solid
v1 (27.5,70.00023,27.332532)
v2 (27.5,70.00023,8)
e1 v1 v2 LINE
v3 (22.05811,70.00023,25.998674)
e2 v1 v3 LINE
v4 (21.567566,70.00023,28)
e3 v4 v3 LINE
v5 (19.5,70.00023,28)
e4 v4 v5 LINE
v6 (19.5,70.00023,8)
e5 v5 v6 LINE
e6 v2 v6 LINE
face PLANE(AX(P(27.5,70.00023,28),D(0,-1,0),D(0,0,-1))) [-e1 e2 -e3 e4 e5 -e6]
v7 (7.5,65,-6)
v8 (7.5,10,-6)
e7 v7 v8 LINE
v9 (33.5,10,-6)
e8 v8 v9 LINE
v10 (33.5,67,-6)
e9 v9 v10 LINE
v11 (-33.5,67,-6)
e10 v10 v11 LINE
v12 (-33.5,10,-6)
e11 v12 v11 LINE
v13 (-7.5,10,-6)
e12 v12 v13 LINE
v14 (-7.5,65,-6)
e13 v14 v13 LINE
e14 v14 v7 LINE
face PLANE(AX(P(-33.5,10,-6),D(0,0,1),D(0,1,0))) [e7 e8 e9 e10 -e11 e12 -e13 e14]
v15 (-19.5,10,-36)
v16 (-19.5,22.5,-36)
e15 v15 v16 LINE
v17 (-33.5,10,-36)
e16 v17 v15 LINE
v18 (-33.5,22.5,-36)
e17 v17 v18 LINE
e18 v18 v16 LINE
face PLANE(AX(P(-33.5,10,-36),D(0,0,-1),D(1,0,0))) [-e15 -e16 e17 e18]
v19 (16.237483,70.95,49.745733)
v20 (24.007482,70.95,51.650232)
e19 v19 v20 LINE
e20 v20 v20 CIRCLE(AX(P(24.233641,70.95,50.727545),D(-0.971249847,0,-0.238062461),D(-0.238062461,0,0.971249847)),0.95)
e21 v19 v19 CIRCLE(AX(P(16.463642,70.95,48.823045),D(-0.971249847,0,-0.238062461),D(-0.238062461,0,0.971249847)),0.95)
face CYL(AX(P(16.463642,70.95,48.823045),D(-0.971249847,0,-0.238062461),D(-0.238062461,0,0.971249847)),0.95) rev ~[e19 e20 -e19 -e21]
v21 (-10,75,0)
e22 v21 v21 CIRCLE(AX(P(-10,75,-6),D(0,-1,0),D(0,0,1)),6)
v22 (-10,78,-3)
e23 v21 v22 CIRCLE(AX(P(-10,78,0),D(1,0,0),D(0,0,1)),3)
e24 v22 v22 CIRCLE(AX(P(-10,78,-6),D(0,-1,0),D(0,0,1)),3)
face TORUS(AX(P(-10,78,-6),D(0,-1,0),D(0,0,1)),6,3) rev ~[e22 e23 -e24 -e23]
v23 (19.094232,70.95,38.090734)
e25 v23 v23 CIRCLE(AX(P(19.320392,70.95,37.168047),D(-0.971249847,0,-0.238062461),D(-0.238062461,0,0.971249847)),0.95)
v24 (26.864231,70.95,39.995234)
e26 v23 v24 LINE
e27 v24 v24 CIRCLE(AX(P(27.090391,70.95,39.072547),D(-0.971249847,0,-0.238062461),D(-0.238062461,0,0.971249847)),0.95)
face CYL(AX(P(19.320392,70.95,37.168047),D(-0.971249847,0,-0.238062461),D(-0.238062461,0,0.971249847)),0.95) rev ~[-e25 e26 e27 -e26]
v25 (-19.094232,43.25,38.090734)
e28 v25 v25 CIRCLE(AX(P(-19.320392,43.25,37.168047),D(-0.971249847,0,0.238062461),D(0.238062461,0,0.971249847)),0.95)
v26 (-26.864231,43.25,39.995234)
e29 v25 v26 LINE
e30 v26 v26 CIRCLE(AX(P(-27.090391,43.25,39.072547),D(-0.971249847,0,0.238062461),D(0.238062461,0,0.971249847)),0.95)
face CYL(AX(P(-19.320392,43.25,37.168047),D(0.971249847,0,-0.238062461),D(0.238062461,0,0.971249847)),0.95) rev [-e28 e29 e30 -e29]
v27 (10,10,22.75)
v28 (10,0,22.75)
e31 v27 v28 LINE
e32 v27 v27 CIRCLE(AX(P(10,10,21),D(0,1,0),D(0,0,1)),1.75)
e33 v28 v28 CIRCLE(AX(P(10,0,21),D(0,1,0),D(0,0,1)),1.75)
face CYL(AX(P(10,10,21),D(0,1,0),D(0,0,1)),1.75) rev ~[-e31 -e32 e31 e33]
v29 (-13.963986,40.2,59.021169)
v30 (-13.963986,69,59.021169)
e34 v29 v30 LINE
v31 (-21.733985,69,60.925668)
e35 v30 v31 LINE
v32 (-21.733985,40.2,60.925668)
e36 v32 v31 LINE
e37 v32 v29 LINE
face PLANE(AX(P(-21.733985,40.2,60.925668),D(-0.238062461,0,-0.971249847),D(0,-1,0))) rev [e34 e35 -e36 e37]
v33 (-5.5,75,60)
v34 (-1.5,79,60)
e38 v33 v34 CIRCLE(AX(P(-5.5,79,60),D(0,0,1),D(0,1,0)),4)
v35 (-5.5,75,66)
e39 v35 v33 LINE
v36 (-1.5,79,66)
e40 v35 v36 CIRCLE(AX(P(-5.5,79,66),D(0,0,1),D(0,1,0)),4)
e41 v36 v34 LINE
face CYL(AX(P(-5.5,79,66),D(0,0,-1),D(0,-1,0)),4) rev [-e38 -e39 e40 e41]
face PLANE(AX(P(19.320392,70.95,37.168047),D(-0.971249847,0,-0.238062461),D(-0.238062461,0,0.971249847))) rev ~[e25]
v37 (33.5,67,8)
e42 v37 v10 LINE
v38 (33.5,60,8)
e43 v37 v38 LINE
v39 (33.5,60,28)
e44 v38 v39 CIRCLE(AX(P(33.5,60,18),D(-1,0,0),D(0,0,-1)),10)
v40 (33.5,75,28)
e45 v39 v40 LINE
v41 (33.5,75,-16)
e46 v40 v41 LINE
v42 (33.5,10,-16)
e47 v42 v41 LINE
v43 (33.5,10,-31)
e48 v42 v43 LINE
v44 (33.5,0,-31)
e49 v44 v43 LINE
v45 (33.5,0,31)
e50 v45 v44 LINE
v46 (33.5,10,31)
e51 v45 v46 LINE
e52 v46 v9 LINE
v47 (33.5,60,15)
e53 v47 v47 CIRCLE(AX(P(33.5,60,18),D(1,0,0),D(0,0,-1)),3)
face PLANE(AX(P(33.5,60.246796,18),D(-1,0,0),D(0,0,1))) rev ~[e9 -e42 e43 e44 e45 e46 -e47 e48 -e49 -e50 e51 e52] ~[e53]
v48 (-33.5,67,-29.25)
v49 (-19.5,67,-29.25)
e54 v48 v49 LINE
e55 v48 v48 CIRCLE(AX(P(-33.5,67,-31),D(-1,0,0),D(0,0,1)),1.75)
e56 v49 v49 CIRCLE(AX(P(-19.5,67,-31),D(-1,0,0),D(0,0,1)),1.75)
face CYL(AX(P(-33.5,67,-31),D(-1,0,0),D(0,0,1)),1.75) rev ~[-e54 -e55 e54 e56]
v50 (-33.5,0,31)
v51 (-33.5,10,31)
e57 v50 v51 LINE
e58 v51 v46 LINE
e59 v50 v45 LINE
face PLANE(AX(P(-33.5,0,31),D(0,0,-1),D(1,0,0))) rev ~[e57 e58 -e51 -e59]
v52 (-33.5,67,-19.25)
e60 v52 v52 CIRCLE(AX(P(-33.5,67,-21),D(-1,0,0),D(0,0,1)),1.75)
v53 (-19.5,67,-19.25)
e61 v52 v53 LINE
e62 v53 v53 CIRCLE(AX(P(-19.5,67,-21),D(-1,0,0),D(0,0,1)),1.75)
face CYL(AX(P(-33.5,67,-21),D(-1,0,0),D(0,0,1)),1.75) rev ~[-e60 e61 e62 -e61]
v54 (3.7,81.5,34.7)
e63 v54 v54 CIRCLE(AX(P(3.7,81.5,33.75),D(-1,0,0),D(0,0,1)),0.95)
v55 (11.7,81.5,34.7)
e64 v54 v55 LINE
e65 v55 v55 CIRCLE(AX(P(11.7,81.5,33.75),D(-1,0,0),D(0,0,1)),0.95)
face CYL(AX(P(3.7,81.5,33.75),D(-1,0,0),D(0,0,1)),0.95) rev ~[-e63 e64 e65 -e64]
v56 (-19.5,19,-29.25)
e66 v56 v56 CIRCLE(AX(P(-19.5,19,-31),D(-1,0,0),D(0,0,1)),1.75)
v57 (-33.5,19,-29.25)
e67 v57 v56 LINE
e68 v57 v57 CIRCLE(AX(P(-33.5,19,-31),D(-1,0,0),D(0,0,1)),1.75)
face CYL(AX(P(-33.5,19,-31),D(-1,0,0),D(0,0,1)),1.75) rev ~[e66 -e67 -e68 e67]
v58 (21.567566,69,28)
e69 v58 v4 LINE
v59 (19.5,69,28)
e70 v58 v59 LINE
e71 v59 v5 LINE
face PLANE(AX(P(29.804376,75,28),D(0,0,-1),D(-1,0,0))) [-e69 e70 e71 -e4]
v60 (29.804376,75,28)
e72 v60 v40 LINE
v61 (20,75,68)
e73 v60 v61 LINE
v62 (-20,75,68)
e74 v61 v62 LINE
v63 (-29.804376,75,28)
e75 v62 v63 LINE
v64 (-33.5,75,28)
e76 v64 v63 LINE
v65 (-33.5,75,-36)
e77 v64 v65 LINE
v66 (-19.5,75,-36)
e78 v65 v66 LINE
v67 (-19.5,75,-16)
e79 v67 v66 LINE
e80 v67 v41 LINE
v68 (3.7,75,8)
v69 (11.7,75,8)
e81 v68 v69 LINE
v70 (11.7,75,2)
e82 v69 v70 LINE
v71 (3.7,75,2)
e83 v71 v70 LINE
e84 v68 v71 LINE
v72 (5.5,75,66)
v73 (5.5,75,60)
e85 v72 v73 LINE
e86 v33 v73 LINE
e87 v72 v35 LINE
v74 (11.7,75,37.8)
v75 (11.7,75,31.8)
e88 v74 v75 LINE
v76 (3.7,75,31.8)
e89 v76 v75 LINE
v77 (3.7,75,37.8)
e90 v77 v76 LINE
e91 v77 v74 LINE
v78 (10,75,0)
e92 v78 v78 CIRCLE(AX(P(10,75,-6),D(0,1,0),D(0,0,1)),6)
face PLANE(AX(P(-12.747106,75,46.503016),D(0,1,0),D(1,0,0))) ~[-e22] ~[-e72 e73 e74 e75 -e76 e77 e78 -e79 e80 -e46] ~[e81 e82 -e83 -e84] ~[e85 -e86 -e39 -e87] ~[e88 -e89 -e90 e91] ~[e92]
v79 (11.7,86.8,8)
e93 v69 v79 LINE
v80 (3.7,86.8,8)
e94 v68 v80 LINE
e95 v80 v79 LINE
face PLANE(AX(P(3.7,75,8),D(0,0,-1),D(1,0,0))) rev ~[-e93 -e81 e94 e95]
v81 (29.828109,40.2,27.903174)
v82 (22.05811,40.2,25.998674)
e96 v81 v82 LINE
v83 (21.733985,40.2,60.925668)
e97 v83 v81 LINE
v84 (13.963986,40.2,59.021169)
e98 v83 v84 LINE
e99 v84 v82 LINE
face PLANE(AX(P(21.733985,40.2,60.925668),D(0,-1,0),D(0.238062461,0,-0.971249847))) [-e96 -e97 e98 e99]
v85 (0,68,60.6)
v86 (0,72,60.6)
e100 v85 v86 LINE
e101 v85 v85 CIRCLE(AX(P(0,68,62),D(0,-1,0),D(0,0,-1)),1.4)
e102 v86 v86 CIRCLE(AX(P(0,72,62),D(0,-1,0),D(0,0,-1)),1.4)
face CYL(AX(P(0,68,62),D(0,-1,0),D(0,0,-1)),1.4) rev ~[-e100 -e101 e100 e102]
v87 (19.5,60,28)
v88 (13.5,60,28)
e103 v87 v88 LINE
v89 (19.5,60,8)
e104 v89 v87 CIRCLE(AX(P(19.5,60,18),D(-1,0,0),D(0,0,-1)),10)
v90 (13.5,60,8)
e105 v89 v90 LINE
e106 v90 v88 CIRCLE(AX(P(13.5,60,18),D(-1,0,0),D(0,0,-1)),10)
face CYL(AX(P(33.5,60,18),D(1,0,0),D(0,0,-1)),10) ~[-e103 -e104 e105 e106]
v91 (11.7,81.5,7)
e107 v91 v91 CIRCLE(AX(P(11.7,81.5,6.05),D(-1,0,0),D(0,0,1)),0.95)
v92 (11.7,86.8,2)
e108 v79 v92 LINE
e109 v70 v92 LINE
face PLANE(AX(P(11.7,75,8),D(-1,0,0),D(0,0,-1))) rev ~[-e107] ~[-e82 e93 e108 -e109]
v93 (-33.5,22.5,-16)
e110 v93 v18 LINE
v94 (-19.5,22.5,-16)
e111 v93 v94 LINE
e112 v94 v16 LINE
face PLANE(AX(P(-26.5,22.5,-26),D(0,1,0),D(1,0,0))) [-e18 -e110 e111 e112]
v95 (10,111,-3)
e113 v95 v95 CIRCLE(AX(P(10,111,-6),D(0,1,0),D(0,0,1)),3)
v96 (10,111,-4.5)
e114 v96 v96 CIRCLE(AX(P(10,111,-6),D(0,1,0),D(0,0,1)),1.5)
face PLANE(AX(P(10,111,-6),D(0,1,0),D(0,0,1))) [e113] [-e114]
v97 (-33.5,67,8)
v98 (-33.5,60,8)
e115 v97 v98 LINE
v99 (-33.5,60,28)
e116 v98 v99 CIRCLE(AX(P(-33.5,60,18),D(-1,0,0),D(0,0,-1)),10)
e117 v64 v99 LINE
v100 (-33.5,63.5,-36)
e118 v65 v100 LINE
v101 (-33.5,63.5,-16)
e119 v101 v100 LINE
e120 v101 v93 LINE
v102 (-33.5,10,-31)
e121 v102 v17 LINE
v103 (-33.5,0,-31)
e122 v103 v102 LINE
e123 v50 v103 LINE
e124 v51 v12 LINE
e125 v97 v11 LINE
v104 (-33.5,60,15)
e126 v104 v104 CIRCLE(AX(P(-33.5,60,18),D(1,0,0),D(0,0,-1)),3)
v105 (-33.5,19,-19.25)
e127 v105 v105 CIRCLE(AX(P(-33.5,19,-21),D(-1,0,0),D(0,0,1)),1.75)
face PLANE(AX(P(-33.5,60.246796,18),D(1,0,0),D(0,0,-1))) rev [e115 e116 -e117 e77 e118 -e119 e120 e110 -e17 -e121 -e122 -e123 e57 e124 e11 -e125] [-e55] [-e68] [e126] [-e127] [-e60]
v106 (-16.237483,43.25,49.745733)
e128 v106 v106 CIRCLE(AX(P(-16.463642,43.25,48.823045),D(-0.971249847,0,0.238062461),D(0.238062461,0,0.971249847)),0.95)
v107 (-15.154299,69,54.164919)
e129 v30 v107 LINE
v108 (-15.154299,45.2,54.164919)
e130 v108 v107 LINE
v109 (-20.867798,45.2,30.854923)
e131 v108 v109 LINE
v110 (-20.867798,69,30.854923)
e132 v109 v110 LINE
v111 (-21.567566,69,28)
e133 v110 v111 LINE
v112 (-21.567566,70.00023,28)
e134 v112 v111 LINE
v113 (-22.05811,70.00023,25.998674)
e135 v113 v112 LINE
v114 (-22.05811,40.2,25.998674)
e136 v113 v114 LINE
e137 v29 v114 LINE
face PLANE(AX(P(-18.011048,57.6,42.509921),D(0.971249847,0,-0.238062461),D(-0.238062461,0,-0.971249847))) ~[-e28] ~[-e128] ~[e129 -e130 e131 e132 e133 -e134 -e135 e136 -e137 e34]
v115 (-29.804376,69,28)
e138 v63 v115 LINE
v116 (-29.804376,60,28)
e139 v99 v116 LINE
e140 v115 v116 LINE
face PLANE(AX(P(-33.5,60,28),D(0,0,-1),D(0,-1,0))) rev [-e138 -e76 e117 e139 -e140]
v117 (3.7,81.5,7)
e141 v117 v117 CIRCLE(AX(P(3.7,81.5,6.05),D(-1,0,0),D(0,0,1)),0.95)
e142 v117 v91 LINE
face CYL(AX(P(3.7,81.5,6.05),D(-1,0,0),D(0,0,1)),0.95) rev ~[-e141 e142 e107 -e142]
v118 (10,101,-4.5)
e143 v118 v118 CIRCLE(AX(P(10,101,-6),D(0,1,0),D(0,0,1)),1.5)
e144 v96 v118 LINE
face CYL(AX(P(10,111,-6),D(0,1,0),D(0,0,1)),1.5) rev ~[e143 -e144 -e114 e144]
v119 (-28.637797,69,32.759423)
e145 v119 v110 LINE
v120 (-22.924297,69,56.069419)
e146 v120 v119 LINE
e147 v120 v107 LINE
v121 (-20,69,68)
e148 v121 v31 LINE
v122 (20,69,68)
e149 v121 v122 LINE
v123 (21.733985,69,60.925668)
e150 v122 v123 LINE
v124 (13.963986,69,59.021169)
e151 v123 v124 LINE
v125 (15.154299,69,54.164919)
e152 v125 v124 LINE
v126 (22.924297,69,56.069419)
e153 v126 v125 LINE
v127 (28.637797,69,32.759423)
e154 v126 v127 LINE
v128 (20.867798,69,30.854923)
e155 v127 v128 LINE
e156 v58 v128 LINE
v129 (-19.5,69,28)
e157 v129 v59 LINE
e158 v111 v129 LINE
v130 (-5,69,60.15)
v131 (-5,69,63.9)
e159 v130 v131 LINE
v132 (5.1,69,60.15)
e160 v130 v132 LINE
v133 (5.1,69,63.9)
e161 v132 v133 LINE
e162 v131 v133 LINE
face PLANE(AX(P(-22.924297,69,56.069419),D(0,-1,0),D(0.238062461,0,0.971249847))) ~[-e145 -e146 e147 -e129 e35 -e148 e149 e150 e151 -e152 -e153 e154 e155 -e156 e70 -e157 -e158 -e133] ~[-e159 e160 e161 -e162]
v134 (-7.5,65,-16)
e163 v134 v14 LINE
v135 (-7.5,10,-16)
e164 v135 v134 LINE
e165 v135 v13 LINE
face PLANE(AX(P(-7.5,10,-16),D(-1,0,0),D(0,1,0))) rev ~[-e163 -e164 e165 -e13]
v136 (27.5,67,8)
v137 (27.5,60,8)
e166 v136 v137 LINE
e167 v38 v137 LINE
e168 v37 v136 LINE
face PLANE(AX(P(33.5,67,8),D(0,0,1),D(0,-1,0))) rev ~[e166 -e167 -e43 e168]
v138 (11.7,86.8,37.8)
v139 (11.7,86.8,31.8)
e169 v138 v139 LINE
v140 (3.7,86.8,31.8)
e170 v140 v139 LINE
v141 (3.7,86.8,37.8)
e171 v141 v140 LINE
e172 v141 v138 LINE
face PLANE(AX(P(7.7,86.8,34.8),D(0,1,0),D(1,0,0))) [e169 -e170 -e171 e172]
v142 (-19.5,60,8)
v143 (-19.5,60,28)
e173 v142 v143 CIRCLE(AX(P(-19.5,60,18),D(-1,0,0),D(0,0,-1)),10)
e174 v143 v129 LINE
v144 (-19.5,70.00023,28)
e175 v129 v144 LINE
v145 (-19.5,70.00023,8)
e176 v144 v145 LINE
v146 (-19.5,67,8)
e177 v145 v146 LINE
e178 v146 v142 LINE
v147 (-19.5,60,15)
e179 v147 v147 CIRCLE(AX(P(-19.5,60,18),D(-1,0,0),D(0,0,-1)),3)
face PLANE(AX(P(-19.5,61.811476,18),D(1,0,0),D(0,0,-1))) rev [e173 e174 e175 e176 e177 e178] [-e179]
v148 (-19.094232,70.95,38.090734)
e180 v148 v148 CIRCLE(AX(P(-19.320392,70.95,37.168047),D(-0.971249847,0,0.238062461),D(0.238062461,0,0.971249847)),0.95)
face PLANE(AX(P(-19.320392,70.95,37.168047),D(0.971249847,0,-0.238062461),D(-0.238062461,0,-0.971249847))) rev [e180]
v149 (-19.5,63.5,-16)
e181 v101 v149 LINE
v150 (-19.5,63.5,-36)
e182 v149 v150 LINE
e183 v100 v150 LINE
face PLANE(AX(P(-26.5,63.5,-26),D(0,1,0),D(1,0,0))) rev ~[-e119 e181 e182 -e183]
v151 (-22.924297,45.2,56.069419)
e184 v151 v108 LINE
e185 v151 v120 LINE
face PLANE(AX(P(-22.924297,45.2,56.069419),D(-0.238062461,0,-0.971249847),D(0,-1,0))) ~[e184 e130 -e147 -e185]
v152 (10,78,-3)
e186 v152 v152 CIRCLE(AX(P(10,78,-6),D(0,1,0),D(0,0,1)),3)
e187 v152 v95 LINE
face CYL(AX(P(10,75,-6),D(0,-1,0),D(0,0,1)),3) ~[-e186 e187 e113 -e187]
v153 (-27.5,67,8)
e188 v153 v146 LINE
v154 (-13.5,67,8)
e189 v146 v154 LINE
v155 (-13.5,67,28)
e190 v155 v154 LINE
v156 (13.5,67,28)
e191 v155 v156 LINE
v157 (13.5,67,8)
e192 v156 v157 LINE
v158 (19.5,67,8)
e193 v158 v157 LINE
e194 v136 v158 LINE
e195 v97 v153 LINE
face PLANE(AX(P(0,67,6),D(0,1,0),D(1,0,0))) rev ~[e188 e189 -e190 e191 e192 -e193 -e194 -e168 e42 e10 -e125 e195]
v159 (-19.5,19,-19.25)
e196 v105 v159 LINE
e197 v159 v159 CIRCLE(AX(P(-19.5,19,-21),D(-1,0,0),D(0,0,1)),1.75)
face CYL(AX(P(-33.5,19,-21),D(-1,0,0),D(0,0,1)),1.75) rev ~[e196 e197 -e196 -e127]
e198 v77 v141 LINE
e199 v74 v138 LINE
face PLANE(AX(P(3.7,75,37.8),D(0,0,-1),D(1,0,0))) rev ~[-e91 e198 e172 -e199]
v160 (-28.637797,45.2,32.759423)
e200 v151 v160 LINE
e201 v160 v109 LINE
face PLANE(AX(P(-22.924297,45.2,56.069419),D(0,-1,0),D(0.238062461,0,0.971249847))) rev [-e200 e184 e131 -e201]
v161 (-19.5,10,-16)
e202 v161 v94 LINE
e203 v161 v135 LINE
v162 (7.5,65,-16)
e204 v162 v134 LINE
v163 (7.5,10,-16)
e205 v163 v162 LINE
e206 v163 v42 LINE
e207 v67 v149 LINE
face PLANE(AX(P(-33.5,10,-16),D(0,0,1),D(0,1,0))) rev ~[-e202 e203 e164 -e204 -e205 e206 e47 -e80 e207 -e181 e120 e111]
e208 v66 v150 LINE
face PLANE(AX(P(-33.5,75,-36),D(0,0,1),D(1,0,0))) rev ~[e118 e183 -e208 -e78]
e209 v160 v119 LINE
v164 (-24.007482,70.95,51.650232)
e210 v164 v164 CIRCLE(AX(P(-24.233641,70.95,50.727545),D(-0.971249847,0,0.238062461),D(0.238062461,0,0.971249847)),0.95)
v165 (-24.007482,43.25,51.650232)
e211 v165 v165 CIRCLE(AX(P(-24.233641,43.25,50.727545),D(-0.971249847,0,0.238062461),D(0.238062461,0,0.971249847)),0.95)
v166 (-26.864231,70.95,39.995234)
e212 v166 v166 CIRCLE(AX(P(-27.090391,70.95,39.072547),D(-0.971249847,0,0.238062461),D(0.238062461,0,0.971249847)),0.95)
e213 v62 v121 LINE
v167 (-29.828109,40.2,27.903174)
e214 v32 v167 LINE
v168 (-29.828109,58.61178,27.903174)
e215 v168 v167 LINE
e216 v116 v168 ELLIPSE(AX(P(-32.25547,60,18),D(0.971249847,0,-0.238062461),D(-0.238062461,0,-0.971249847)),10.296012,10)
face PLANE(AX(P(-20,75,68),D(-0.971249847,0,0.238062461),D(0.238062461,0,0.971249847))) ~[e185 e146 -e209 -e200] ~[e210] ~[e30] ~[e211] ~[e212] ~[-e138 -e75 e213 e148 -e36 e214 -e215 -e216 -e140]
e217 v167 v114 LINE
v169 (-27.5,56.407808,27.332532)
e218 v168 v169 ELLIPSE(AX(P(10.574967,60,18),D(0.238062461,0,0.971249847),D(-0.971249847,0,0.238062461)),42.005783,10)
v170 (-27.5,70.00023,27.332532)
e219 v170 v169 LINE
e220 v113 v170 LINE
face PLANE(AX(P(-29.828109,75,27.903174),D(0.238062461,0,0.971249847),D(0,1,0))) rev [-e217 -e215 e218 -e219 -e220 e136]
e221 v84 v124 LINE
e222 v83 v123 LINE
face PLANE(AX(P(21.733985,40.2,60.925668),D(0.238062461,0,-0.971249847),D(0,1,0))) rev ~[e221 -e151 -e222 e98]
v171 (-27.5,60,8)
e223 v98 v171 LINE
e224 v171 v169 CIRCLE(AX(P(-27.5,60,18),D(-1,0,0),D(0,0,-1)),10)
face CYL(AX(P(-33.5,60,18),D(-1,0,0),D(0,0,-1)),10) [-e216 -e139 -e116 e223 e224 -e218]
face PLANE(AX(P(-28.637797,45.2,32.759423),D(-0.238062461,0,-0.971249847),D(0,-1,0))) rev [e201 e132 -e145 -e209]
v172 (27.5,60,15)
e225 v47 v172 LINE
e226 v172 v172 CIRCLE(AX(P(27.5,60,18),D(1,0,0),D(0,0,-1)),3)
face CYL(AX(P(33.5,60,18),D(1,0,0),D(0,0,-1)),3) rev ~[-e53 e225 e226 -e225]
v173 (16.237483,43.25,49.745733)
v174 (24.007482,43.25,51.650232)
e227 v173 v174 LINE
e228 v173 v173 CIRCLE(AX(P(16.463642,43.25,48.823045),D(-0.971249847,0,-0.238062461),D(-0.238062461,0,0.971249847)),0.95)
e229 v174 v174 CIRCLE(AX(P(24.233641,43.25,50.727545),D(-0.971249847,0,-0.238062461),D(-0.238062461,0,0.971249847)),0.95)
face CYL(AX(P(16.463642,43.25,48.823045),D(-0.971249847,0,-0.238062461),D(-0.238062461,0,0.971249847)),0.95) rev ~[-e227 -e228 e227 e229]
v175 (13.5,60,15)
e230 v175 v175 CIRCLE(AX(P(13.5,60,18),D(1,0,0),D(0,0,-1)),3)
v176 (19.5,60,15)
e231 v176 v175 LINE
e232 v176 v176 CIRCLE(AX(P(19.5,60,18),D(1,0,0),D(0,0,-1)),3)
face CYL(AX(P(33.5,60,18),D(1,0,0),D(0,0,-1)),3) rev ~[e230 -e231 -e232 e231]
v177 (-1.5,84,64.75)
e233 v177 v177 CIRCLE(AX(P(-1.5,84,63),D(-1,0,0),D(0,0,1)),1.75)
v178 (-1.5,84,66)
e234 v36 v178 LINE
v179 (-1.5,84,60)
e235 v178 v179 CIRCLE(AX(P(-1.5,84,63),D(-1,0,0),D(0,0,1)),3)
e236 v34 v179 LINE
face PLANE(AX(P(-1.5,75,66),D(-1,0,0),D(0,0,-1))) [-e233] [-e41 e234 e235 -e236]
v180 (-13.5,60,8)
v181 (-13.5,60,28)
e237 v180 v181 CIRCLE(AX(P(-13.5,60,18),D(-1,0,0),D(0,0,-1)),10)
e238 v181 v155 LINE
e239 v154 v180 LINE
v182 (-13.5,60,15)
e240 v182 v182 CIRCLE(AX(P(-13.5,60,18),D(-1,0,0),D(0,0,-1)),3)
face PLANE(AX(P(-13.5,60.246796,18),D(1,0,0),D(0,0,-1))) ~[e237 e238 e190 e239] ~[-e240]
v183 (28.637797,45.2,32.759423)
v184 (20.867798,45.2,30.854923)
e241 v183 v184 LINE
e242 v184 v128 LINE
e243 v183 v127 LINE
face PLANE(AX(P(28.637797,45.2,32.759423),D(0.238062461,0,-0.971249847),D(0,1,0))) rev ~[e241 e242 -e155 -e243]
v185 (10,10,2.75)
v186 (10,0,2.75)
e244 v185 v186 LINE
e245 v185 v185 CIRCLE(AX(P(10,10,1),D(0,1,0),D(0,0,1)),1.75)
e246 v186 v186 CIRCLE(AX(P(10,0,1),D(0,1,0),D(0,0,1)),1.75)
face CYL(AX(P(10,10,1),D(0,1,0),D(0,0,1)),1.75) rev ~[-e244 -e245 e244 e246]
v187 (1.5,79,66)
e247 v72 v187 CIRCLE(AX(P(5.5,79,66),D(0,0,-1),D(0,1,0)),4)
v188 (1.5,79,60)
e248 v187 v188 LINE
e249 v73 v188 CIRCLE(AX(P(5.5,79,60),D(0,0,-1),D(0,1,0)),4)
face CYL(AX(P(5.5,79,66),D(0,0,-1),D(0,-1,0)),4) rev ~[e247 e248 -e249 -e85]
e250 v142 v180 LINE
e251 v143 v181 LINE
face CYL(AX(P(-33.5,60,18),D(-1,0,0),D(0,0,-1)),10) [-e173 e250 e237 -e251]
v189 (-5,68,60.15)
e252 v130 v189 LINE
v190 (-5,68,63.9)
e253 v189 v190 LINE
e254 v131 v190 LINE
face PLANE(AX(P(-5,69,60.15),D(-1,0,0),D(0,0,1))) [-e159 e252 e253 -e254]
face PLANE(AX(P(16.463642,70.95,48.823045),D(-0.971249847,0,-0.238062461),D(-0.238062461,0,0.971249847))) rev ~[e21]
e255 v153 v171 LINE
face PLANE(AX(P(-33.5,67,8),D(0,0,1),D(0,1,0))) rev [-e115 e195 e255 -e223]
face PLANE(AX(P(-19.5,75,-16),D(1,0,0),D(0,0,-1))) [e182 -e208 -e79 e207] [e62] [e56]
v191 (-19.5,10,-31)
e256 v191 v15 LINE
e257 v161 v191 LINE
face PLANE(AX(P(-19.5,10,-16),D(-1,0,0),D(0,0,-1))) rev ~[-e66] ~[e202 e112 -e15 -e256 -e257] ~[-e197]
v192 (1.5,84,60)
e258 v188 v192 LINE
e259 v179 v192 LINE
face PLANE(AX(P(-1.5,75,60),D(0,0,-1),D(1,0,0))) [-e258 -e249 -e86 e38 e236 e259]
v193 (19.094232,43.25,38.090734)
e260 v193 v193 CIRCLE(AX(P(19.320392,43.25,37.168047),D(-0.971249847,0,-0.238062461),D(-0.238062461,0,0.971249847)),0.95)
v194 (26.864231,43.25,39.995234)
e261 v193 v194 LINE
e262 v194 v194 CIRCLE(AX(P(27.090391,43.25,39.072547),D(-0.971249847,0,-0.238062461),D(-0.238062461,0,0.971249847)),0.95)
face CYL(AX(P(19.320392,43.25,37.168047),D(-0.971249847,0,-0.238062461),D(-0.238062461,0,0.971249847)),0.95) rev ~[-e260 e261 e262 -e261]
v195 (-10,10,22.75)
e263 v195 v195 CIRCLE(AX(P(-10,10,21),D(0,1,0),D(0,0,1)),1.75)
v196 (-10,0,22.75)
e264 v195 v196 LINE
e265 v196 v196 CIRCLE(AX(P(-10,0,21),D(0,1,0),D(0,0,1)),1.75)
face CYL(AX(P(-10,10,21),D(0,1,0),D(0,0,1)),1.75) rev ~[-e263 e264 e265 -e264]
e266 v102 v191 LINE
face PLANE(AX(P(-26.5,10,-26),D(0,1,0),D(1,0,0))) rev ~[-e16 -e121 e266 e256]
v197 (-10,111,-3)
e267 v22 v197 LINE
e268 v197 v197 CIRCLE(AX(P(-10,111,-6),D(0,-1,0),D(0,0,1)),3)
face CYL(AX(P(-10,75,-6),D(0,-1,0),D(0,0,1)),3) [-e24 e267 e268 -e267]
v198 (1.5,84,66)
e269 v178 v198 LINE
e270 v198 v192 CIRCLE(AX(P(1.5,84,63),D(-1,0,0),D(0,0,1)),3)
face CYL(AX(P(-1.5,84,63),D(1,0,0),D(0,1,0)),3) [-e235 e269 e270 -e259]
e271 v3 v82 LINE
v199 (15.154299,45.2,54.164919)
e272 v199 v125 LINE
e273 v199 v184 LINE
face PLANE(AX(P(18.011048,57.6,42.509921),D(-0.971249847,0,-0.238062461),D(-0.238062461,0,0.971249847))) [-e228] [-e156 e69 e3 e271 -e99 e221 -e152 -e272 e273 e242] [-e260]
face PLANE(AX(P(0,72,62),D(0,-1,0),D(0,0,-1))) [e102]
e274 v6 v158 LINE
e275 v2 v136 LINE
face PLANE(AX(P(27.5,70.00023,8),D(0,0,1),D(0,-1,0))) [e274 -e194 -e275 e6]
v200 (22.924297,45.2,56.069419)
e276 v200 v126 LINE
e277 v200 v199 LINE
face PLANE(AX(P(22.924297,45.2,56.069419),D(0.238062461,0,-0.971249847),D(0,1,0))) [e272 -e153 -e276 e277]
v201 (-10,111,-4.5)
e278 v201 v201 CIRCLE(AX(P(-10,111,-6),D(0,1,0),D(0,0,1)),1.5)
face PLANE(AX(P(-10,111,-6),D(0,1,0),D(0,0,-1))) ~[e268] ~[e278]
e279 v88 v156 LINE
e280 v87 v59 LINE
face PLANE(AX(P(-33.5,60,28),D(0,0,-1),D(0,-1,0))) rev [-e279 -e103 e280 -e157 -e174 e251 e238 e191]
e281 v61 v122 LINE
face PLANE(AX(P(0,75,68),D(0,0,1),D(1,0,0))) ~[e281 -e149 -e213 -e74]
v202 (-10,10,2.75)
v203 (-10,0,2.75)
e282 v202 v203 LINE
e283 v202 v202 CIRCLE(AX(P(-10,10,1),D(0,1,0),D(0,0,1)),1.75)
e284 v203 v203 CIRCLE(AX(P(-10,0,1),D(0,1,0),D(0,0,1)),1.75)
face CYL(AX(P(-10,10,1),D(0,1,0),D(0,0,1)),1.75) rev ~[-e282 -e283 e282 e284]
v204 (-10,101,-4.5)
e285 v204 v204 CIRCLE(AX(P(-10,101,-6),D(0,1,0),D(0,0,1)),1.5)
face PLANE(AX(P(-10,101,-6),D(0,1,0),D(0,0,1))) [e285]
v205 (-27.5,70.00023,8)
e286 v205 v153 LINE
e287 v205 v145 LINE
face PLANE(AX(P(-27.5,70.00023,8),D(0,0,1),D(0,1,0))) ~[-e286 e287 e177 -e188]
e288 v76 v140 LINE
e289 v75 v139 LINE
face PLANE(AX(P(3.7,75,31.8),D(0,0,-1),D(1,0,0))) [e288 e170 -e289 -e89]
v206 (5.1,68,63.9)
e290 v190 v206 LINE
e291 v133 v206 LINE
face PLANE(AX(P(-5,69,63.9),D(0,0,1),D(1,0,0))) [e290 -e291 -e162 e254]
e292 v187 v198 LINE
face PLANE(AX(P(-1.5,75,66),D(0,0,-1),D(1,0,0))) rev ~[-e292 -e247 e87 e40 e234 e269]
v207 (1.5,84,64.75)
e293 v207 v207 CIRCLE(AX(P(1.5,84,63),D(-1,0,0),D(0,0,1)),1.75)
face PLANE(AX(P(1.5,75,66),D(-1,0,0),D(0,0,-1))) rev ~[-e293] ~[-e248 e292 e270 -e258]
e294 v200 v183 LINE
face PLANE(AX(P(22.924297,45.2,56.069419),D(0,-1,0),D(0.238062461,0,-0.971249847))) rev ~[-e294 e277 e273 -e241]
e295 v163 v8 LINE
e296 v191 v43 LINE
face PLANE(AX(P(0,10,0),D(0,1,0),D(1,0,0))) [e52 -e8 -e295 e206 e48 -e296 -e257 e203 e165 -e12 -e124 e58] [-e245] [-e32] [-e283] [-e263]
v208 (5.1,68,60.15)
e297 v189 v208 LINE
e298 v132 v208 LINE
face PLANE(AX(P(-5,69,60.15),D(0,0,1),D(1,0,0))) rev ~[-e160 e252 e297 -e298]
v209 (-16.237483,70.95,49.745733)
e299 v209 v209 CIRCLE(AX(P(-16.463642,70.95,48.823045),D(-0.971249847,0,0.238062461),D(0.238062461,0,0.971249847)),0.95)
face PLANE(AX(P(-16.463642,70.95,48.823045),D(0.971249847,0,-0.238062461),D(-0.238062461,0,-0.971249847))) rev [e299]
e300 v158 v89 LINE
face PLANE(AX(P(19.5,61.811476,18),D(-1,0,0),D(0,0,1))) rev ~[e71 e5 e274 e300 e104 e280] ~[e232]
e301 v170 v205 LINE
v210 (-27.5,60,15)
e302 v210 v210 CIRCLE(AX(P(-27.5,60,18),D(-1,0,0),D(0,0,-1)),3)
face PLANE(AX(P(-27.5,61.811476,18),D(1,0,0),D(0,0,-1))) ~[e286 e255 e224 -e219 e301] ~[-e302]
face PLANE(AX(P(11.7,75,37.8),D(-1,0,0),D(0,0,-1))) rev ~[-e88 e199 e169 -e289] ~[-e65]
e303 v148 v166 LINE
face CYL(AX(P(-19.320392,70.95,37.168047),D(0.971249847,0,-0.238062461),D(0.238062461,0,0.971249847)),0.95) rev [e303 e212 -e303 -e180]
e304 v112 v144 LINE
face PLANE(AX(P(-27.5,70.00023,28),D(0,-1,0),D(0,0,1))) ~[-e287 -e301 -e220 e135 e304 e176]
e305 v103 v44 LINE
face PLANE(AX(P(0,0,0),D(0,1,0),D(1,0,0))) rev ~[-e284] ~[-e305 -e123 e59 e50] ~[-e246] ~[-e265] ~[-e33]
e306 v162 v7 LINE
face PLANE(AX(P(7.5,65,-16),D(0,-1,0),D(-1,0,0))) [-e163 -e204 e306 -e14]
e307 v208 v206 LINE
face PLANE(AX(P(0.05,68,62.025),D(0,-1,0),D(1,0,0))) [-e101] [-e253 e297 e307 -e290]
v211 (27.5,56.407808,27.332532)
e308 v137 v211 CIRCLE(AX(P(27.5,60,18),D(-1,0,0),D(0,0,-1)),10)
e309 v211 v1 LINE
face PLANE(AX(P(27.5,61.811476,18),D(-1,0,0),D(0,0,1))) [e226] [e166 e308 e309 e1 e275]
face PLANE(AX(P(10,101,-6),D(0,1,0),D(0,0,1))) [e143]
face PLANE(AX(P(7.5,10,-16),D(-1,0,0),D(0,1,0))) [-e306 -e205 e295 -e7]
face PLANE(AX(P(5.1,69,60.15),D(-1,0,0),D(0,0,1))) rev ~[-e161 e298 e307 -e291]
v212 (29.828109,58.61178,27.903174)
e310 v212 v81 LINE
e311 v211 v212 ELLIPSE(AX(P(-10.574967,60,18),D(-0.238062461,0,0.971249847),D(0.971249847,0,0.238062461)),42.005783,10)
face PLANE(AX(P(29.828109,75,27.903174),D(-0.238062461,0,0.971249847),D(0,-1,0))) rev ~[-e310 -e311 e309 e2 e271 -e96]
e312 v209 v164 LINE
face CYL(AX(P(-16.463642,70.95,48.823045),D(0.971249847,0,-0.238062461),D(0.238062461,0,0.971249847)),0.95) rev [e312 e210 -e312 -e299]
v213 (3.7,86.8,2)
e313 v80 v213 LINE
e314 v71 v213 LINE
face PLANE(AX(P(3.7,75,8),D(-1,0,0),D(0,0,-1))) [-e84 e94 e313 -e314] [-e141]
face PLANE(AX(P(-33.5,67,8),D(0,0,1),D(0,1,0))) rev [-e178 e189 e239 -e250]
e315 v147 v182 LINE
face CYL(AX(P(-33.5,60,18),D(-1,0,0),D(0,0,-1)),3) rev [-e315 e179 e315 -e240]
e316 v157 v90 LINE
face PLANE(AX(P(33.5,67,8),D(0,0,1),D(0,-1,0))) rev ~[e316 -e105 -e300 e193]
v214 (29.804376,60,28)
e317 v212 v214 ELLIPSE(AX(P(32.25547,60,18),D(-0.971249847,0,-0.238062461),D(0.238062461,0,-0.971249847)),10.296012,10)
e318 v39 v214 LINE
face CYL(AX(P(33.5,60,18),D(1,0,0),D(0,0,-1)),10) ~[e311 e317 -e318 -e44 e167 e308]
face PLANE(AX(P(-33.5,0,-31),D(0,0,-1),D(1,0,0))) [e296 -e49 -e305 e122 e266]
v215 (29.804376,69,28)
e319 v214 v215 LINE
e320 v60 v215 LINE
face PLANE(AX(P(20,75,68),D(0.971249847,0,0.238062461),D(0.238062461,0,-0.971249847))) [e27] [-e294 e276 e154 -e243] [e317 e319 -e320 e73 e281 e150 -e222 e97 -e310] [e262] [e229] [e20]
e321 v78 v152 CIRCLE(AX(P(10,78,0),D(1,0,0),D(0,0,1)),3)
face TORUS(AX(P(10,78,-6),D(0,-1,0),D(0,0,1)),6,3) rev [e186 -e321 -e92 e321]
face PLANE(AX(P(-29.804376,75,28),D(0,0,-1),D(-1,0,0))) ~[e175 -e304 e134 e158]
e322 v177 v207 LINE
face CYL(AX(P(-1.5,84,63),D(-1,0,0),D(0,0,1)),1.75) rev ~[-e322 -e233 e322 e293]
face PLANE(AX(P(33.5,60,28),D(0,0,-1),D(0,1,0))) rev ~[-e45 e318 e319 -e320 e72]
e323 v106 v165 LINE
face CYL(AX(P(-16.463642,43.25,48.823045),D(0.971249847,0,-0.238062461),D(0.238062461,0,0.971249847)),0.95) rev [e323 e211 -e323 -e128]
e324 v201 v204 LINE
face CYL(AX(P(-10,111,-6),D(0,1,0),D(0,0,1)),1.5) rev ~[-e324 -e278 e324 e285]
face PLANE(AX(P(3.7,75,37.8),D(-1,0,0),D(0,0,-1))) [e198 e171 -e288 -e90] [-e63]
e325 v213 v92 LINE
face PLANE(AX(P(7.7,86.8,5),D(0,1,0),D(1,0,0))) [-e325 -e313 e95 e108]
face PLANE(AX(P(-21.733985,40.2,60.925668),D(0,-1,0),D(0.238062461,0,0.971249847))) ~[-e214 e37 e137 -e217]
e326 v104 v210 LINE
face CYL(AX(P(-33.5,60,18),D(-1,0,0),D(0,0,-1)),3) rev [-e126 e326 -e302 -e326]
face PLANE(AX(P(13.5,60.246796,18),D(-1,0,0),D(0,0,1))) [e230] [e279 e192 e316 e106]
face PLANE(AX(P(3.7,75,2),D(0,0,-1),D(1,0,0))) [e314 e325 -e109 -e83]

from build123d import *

# Parameters (mm, degrees)
SKETCH_1_W             = 67
SKETCH_1_H             = 62
EXTRUDE_1_DEPTH        = 10
SKETCH_3_W             = 14
SKETCH_3_H             = 20
EXTRUDE_2_DEPTH        = 12.5
SKETCH_4_W             = 10
SKETCH_4_H             = 65
EXTRUDE_3_DEPTH        = 67
SKETCH_5_W             = 67
SKETCH_5_H             = 44
EXTRUDE_4_DEPTH        = 8
EXTRUDE_5_DEPTH        = 20
CUT_EXTRUDE_START      = -6
CUT_EXTRUDE_1_DEPTH    = 8
EXTRUDE_6_DEPTH        = 6
SKETCH_9_R             = 3
CUT_EXTRUDE_2_DEPTH    = 23
SKETCH_10_W            = 24
SKETCH_10_H            = 23.8
EXTRUDE_7_DEPTH        = 8
SKETCH_12_W            = 14
SKETCH_12_H            = 20
EXTRUDE_8_DEPTH        = 11.5
SKETCH_13_R            = 0.95
CUT_EXTRUDE_4_DEPTH    = 8
SKETCH_14_W            = 8
SKETCH_14_H            = 6
EXTRUDE_9_DEPTH        = 11.8
SKETCH_15_R            = 0.95
CUT_EXTRUDE_5_DEPTH    = 11.8
SKETCH_16_W            = 3
SKETCH_16_H            = 6
EXTRUDE_10_DEPTH       = 12
FILLET_1_RADIUS        = 3
FILLET_1_LENGTH        = 3
SKETCH_17_R            = 1.75
CUT_EXTRUDE_6_DEPTH    = 7
SKETCH_18_R            = 3
EXTRUDE_11_DEPTH       = 36
FILLET_2_R             = 3
FILLET_2_OF_MIRROR_1_R = 3
SKETCH_20_R            = 1.75
CUT_EXTRUDE_7_DEPTH    = 35
SKETCH_21_W            = 15
SKETCH_21_H            = 55
CUT_EXTRUDE_8_DEPTH    = 35
SKETCH_24_R            = 1.75
CUT_EXTRUDE_11_DEPTH   = 18
SKETCH_25_R            = 1.5
CUT_EXTRUDE_12_DEPTH   = 10
FILLET_3_R             = 4
SKETCH_26_W            = 10.1
SKETCH_26_H            = 3.75
EXTRUDE_12_DEPTH       = 1
SKETCH_27_R            = 1.4
CUT_EXTRUDE_13_DEPTH   = 4


with BuildPart() as part:
    # 草图1 → 凸台-拉伸1 (new body)
    with BuildSketch(Plane(origin=(0, 0, 0), x_dir=(1, 0, 0), z_dir=(0, 1, 0))):
        Rectangle(SKETCH_1_W, SKETCH_1_H)
    extrude(amount=EXTRUDE_1_DEPTH)

    # 草图3 → 凸台-拉伸2 (add)
    with BuildSketch(Plane(origin=(0, 10, 0), x_dir=(1, 0, 0), z_dir=(0, 1, 0))):
        with Locations((-26.5, 26)):
            Rectangle(SKETCH_3_W, SKETCH_3_H)
    extrude(amount=EXTRUDE_2_DEPTH)

    # 草图4 → 凸台-拉伸3 (add)
    with BuildSketch(Plane.ZY.offset(33.5)):
        with Locations((-11, 42.5)):
            Rectangle(SKETCH_4_W, SKETCH_4_H)
    extrude(amount=-EXTRUDE_3_DEPTH)

    # 草图5 → 凸台-拉伸4 (add)
    with BuildSketch(Plane(origin=(0, 75, 0), x_dir=(1, 0, 0), z_dir=(0, 1, 0))):
        with Locations((0, -6)):
            Rectangle(SKETCH_5_W, SKETCH_5_H)
    extrude(amount=-EXTRUDE_4_DEPTH)

    # 草图6 → 凸台-拉伸5 (add)
    with BuildSketch(Plane(origin=(33.5, 0, 0), x_dir=(0, 0, -1), z_dir=(1, 0, 0))):
        with BuildLine():
            Line((-28, 60), (-28, 67))
            Line((-28, 67), (-8, 67))
            Line((-8, 67), (-8, 60))
            ThreePointArc((-8, 60), (-18, 50), (-28, 60))
        make_face()
    extrude_5 = extrude(amount=-EXTRUDE_5_DEPTH)

    # 草图7 → 切除-拉伸1 (cut)
    with BuildSketch(Plane(origin=(33.5, 0, 0), x_dir=(0, 0, -1), z_dir=(1, 0, 0)).offset(CUT_EXTRUDE_START)):
        with BuildLine():
            Line((-28, 60), (-28, 70.000230089))
            Line((-28, 70.000230089), (-8, 70.000230089))
            Line((-8, 70.000230089), (-8, 60))
            ThreePointArc((-8, 60), (-18, 50), (-28, 60))
        make_face()
    cut_extrude_1 = extrude(amount=-CUT_EXTRUDE_1_DEPTH, mode=Mode.SUBTRACT)

    # 草图8 → 凸台-拉伸6 (add)
    with BuildSketch(Plane(origin=(0, 75, 0), x_dir=(1, 0, 0), z_dir=(0, 1, 0))):
        Polygon((0, -68), (20, -68), (29.804375739, -28), (0, -28), align=None)
    extrude_6 = extrude(amount=-EXTRUDE_6_DEPTH)

    # 草图9 → 切除-拉伸2 (cut)
    with BuildSketch(Plane(origin=(33.5, 0, 0), x_dir=(0, 0, -1), z_dir=(1, 0, 0))):
        with Locations((-18, 60)):
            Circle(SKETCH_9_R)
    cut_extrude_2 = extrude(amount=-CUT_EXTRUDE_2_DEPTH, mode=Mode.SUBTRACT)

    # 草图10 → 凸台-拉伸7 (add)
    with BuildSketch(Plane(origin=(34.589358039, 0, 8.47817657), x_dir=(0.23806246083963745, 0, -0.9712498467124595), z_dir=(0.9712498467124595, 0, 0.23806246083963745))):
        Polygon((-49, 75), (-20, 75), (-20, 40.2), (-48, 40.2), (-54, 40.2), (-54, 75), align=None)
        with Locations((-37, 57.1)):
            Rectangle(SKETCH_10_W, SKETCH_10_H, mode=Mode.SUBTRACT)
    extrude_7 = extrude(amount=-EXTRUDE_7_DEPTH)

    # 草图12 → 凸台-拉伸8 (add)
    with BuildSketch(Plane(origin=(0, 75, 0), x_dir=(1, 0, 0), z_dir=(0, 1, 0))):
        with Locations((-26.5, 26)):
            Rectangle(SKETCH_12_W, SKETCH_12_H)
    extrude(amount=-EXTRUDE_8_DEPTH)

    # 草图13 → 切除-拉伸4 (cut)
    with BuildSketch(Plane(origin=(26.819359266, 0, 6.573676883), x_dir=(-0.23806246083963745, 0, 0.9712498467124595), z_dir=(-0.9712498467124595, 0, -0.23806246083963745))):
        with Locations((43.5, 70.95)):
            Circle(SKETCH_13_R)
        with Locations((31.5, 70.95)):
            Circle(SKETCH_13_R)
        with Locations((31.5, 43.25)):
            Circle(SKETCH_13_R)
        with Locations((43.5, 43.25)):
            Circle(SKETCH_13_R)
    cut_extrude_4 = extrude(amount=-CUT_EXTRUDE_4_DEPTH, mode=Mode.SUBTRACT)

    # 草图14 → 凸台-拉伸9 (add)
    with BuildSketch(Plane(origin=(0, 75, 0), x_dir=(1, 0, 0), z_dir=(0, 1, 0))):
        with Locations((7.7, -5)):
            Rectangle(SKETCH_14_W, SKETCH_14_H)
        with Locations((7.7, -34.8)):
            Rectangle(SKETCH_14_W, SKETCH_14_H)
    extrude(amount=EXTRUDE_9_DEPTH)

    # 草图15 → 切除-拉伸5 (cut)
    with BuildSketch(Plane.ZY.offset(-3.7)):
        with Locations((33.75, 81.5)):
            Circle(SKETCH_15_R)
        with Locations((6.05, 81.5)):
            Circle(SKETCH_15_R)
    extrude(amount=-CUT_EXTRUDE_5_DEPTH, mode=Mode.SUBTRACT)

    # 草图16 → 凸台-拉伸10 (add)
    with BuildSketch(Plane(origin=(0, 75, 0), x_dir=(1, 0, 0), z_dir=(0, 1, 0))):
        with Locations((0, -63)):
            Rectangle(SKETCH_16_W, SKETCH_16_H)
    extrude(amount=EXTRUDE_10_DEPTH)

    # 圆角1: full round fillet: the end face becomes a half cylinder, R = half its width
    fillet_1_face = Plane((0, 87, 63), x_dir=(1, 0, 0), z_dir=(0, 1, 0))  # on the end face: x along it, z out of the body
    fillet_1_slab = fillet_1_face.offset(-FILLET_1_RADIUS / 2) * Box(FILLET_1_LENGTH, 2 * FILLET_1_RADIUS, FILLET_1_RADIUS, mode=Mode.PRIVATE)  # the body's end, R deep
    fillet_1_round = Plane((0, 84, 63), x_dir=(0, 1, 0), z_dir=(1, 0, 0)) * Cylinder(FILLET_1_RADIUS, FILLET_1_LENGTH, mode=Mode.PRIVATE)  # its axis R under the face
    add(fillet_1_slab - fillet_1_round, mode=Mode.SUBTRACT)

    # 草图17 → 切除-拉伸6 (cut)
    with BuildSketch(Plane.ZY.offset(1.5)):
        with Locations((63, 84)):
            Circle(SKETCH_17_R)
    extrude(amount=-CUT_EXTRUDE_6_DEPTH, mode=Mode.SUBTRACT)

    # 草图18 → 凸台-拉伸11 (add)
    with BuildSketch(Plane(origin=(0, 75, 0), x_dir=(1, 0, 0), z_dir=(0, 1, 0))):
        with Locations(Location((10, 6, 0), (0, 0, 270))):
            Circle(SKETCH_18_R)
    extrude_11 = extrude(amount=EXTRUDE_11_DEPTH)

    # 圆角2
    fillet_2_edges = [part.edges().sort_by_distance(p)[0] for p in [
        (10, 75, -9),
    ]]
    fillet(fillet_2_edges, radius=FILLET_2_R)

    # 镜向1: 凸台-拉伸5, 切除-拉伸1, 凸台-拉伸6, 切除-拉伸2, 凸台-拉伸7, 切除-拉伸4, 凸台-拉伸11 across plane
    add(extrude_5.mirror(Plane(origin=(0, 0, 0), x_dir=(0, 0, 1), z_dir=(1, 0, 0))))
    add(cut_extrude_1.mirror(Plane(origin=(0, 0, 0), x_dir=(0, 0, 1), z_dir=(1, 0, 0))), mode=Mode.SUBTRACT)
    add(extrude_6.mirror(Plane(origin=(0, 0, 0), x_dir=(0, 0, 1), z_dir=(1, 0, 0))))
    add(cut_extrude_2.mirror(Plane(origin=(0, 0, 0), x_dir=(0, 0, 1), z_dir=(1, 0, 0))), mode=Mode.SUBTRACT)
    add(extrude_7.mirror(Plane(origin=(0, 0, 0), x_dir=(0, 0, 1), z_dir=(1, 0, 0))))
    add(cut_extrude_4.mirror(Plane(origin=(0, 0, 0), x_dir=(0, 0, 1), z_dir=(1, 0, 0))), mode=Mode.SUBTRACT)
    add(extrude_11.mirror(Plane(origin=(0, 0, 0), x_dir=(0, 0, 1), z_dir=(1, 0, 0))))

    # 圆角2 of 镜向1
    fillet_2_of_mirror_1_edges = [part.edges().sort_by_distance(p)[0] for p in [
        (-10, 75, -9),
    ]]
    fillet(fillet_2_of_mirror_1_edges, radius=FILLET_2_OF_MIRROR_1_R)

    # 草图20 → 切除-拉伸7 (cut)
    with BuildSketch(Plane.ZY.offset(33.5)):
        with Locations((-31, 67)):
            Circle(SKETCH_20_R)
        with Locations((-21, 67)):
            Circle(SKETCH_20_R)
        with Locations((-31, 19)):
            Circle(SKETCH_20_R)
        with Locations((-21, 19)):
            Circle(SKETCH_20_R)
    extrude(amount=-CUT_EXTRUDE_7_DEPTH, mode=Mode.SUBTRACT)

    # 草图21 → 切除-拉伸8 (cut)
    with BuildSketch(Plane(origin=(0, 0, -16), x_dir=(-1, 0, 0), z_dir=(0, 0, -1))):
        with Locations((0, 37.5)):
            Rectangle(SKETCH_21_W, SKETCH_21_H)
    extrude(amount=-CUT_EXTRUDE_8_DEPTH, mode=Mode.SUBTRACT)

    # 草图24 → 切除-拉伸11 (cut)
    with BuildSketch(Plane(origin=(0, 10, 0), x_dir=(1, 0, 0), z_dir=(0, 1, 0))):
        with Locations(Location((-10, -21, 0), (0, 0, 270))):
            Circle(SKETCH_24_R)
        with Locations(Location((10, -21, 0), (0, 0, 270))):
            Circle(SKETCH_24_R)
        with Locations(Location((-10, -1, 0), (0, 0, 270))):
            Circle(SKETCH_24_R)
        with Locations(Location((10, -1, 0), (0, 0, 270))):
            Circle(SKETCH_24_R)
    extrude(amount=-CUT_EXTRUDE_11_DEPTH, mode=Mode.SUBTRACT)

    # 草图25 → 切除-拉伸12 (cut)
    with BuildSketch(Plane(origin=(0, 111, 0), x_dir=(1, 0, 0), z_dir=(0, 1, 0))):
        with Locations(Location((10, 6, 0), (0, 0, 270))):
            Circle(SKETCH_25_R)
        with Locations(Location((-10, 6, 0), (0, 0, 270))):
            Circle(SKETCH_25_R)
    extrude(amount=-CUT_EXTRUDE_12_DEPTH, mode=Mode.SUBTRACT)

    # 圆角3
    fillet_3_edges = [part.edges().sort_by_distance(p)[0] for p in [
        (-1.5, 75, 63),
        (1.5, 75, 63),
    ]]
    fillet(fillet_3_edges, radius=FILLET_3_R)

    # 草图26 → 凸台-拉伸12 (add)
    with BuildSketch(Plane.XZ.offset(-69)):
        with Locations((0.05, 62.025)):
            Rectangle(SKETCH_26_W, SKETCH_26_H)
    extrude(amount=EXTRUDE_12_DEPTH)

    # 草图27 → 切除-拉伸13 (cut)
    with BuildSketch(Plane.XZ.offset(-68)):
        with Locations(Location((0, 62, 0), (0, 0, 270))):
            Circle(SKETCH_27_R)
    extrude(amount=-CUT_EXTRUDE_13_DEPTH, mode=Mode.SUBTRACT)


solid = part.part
